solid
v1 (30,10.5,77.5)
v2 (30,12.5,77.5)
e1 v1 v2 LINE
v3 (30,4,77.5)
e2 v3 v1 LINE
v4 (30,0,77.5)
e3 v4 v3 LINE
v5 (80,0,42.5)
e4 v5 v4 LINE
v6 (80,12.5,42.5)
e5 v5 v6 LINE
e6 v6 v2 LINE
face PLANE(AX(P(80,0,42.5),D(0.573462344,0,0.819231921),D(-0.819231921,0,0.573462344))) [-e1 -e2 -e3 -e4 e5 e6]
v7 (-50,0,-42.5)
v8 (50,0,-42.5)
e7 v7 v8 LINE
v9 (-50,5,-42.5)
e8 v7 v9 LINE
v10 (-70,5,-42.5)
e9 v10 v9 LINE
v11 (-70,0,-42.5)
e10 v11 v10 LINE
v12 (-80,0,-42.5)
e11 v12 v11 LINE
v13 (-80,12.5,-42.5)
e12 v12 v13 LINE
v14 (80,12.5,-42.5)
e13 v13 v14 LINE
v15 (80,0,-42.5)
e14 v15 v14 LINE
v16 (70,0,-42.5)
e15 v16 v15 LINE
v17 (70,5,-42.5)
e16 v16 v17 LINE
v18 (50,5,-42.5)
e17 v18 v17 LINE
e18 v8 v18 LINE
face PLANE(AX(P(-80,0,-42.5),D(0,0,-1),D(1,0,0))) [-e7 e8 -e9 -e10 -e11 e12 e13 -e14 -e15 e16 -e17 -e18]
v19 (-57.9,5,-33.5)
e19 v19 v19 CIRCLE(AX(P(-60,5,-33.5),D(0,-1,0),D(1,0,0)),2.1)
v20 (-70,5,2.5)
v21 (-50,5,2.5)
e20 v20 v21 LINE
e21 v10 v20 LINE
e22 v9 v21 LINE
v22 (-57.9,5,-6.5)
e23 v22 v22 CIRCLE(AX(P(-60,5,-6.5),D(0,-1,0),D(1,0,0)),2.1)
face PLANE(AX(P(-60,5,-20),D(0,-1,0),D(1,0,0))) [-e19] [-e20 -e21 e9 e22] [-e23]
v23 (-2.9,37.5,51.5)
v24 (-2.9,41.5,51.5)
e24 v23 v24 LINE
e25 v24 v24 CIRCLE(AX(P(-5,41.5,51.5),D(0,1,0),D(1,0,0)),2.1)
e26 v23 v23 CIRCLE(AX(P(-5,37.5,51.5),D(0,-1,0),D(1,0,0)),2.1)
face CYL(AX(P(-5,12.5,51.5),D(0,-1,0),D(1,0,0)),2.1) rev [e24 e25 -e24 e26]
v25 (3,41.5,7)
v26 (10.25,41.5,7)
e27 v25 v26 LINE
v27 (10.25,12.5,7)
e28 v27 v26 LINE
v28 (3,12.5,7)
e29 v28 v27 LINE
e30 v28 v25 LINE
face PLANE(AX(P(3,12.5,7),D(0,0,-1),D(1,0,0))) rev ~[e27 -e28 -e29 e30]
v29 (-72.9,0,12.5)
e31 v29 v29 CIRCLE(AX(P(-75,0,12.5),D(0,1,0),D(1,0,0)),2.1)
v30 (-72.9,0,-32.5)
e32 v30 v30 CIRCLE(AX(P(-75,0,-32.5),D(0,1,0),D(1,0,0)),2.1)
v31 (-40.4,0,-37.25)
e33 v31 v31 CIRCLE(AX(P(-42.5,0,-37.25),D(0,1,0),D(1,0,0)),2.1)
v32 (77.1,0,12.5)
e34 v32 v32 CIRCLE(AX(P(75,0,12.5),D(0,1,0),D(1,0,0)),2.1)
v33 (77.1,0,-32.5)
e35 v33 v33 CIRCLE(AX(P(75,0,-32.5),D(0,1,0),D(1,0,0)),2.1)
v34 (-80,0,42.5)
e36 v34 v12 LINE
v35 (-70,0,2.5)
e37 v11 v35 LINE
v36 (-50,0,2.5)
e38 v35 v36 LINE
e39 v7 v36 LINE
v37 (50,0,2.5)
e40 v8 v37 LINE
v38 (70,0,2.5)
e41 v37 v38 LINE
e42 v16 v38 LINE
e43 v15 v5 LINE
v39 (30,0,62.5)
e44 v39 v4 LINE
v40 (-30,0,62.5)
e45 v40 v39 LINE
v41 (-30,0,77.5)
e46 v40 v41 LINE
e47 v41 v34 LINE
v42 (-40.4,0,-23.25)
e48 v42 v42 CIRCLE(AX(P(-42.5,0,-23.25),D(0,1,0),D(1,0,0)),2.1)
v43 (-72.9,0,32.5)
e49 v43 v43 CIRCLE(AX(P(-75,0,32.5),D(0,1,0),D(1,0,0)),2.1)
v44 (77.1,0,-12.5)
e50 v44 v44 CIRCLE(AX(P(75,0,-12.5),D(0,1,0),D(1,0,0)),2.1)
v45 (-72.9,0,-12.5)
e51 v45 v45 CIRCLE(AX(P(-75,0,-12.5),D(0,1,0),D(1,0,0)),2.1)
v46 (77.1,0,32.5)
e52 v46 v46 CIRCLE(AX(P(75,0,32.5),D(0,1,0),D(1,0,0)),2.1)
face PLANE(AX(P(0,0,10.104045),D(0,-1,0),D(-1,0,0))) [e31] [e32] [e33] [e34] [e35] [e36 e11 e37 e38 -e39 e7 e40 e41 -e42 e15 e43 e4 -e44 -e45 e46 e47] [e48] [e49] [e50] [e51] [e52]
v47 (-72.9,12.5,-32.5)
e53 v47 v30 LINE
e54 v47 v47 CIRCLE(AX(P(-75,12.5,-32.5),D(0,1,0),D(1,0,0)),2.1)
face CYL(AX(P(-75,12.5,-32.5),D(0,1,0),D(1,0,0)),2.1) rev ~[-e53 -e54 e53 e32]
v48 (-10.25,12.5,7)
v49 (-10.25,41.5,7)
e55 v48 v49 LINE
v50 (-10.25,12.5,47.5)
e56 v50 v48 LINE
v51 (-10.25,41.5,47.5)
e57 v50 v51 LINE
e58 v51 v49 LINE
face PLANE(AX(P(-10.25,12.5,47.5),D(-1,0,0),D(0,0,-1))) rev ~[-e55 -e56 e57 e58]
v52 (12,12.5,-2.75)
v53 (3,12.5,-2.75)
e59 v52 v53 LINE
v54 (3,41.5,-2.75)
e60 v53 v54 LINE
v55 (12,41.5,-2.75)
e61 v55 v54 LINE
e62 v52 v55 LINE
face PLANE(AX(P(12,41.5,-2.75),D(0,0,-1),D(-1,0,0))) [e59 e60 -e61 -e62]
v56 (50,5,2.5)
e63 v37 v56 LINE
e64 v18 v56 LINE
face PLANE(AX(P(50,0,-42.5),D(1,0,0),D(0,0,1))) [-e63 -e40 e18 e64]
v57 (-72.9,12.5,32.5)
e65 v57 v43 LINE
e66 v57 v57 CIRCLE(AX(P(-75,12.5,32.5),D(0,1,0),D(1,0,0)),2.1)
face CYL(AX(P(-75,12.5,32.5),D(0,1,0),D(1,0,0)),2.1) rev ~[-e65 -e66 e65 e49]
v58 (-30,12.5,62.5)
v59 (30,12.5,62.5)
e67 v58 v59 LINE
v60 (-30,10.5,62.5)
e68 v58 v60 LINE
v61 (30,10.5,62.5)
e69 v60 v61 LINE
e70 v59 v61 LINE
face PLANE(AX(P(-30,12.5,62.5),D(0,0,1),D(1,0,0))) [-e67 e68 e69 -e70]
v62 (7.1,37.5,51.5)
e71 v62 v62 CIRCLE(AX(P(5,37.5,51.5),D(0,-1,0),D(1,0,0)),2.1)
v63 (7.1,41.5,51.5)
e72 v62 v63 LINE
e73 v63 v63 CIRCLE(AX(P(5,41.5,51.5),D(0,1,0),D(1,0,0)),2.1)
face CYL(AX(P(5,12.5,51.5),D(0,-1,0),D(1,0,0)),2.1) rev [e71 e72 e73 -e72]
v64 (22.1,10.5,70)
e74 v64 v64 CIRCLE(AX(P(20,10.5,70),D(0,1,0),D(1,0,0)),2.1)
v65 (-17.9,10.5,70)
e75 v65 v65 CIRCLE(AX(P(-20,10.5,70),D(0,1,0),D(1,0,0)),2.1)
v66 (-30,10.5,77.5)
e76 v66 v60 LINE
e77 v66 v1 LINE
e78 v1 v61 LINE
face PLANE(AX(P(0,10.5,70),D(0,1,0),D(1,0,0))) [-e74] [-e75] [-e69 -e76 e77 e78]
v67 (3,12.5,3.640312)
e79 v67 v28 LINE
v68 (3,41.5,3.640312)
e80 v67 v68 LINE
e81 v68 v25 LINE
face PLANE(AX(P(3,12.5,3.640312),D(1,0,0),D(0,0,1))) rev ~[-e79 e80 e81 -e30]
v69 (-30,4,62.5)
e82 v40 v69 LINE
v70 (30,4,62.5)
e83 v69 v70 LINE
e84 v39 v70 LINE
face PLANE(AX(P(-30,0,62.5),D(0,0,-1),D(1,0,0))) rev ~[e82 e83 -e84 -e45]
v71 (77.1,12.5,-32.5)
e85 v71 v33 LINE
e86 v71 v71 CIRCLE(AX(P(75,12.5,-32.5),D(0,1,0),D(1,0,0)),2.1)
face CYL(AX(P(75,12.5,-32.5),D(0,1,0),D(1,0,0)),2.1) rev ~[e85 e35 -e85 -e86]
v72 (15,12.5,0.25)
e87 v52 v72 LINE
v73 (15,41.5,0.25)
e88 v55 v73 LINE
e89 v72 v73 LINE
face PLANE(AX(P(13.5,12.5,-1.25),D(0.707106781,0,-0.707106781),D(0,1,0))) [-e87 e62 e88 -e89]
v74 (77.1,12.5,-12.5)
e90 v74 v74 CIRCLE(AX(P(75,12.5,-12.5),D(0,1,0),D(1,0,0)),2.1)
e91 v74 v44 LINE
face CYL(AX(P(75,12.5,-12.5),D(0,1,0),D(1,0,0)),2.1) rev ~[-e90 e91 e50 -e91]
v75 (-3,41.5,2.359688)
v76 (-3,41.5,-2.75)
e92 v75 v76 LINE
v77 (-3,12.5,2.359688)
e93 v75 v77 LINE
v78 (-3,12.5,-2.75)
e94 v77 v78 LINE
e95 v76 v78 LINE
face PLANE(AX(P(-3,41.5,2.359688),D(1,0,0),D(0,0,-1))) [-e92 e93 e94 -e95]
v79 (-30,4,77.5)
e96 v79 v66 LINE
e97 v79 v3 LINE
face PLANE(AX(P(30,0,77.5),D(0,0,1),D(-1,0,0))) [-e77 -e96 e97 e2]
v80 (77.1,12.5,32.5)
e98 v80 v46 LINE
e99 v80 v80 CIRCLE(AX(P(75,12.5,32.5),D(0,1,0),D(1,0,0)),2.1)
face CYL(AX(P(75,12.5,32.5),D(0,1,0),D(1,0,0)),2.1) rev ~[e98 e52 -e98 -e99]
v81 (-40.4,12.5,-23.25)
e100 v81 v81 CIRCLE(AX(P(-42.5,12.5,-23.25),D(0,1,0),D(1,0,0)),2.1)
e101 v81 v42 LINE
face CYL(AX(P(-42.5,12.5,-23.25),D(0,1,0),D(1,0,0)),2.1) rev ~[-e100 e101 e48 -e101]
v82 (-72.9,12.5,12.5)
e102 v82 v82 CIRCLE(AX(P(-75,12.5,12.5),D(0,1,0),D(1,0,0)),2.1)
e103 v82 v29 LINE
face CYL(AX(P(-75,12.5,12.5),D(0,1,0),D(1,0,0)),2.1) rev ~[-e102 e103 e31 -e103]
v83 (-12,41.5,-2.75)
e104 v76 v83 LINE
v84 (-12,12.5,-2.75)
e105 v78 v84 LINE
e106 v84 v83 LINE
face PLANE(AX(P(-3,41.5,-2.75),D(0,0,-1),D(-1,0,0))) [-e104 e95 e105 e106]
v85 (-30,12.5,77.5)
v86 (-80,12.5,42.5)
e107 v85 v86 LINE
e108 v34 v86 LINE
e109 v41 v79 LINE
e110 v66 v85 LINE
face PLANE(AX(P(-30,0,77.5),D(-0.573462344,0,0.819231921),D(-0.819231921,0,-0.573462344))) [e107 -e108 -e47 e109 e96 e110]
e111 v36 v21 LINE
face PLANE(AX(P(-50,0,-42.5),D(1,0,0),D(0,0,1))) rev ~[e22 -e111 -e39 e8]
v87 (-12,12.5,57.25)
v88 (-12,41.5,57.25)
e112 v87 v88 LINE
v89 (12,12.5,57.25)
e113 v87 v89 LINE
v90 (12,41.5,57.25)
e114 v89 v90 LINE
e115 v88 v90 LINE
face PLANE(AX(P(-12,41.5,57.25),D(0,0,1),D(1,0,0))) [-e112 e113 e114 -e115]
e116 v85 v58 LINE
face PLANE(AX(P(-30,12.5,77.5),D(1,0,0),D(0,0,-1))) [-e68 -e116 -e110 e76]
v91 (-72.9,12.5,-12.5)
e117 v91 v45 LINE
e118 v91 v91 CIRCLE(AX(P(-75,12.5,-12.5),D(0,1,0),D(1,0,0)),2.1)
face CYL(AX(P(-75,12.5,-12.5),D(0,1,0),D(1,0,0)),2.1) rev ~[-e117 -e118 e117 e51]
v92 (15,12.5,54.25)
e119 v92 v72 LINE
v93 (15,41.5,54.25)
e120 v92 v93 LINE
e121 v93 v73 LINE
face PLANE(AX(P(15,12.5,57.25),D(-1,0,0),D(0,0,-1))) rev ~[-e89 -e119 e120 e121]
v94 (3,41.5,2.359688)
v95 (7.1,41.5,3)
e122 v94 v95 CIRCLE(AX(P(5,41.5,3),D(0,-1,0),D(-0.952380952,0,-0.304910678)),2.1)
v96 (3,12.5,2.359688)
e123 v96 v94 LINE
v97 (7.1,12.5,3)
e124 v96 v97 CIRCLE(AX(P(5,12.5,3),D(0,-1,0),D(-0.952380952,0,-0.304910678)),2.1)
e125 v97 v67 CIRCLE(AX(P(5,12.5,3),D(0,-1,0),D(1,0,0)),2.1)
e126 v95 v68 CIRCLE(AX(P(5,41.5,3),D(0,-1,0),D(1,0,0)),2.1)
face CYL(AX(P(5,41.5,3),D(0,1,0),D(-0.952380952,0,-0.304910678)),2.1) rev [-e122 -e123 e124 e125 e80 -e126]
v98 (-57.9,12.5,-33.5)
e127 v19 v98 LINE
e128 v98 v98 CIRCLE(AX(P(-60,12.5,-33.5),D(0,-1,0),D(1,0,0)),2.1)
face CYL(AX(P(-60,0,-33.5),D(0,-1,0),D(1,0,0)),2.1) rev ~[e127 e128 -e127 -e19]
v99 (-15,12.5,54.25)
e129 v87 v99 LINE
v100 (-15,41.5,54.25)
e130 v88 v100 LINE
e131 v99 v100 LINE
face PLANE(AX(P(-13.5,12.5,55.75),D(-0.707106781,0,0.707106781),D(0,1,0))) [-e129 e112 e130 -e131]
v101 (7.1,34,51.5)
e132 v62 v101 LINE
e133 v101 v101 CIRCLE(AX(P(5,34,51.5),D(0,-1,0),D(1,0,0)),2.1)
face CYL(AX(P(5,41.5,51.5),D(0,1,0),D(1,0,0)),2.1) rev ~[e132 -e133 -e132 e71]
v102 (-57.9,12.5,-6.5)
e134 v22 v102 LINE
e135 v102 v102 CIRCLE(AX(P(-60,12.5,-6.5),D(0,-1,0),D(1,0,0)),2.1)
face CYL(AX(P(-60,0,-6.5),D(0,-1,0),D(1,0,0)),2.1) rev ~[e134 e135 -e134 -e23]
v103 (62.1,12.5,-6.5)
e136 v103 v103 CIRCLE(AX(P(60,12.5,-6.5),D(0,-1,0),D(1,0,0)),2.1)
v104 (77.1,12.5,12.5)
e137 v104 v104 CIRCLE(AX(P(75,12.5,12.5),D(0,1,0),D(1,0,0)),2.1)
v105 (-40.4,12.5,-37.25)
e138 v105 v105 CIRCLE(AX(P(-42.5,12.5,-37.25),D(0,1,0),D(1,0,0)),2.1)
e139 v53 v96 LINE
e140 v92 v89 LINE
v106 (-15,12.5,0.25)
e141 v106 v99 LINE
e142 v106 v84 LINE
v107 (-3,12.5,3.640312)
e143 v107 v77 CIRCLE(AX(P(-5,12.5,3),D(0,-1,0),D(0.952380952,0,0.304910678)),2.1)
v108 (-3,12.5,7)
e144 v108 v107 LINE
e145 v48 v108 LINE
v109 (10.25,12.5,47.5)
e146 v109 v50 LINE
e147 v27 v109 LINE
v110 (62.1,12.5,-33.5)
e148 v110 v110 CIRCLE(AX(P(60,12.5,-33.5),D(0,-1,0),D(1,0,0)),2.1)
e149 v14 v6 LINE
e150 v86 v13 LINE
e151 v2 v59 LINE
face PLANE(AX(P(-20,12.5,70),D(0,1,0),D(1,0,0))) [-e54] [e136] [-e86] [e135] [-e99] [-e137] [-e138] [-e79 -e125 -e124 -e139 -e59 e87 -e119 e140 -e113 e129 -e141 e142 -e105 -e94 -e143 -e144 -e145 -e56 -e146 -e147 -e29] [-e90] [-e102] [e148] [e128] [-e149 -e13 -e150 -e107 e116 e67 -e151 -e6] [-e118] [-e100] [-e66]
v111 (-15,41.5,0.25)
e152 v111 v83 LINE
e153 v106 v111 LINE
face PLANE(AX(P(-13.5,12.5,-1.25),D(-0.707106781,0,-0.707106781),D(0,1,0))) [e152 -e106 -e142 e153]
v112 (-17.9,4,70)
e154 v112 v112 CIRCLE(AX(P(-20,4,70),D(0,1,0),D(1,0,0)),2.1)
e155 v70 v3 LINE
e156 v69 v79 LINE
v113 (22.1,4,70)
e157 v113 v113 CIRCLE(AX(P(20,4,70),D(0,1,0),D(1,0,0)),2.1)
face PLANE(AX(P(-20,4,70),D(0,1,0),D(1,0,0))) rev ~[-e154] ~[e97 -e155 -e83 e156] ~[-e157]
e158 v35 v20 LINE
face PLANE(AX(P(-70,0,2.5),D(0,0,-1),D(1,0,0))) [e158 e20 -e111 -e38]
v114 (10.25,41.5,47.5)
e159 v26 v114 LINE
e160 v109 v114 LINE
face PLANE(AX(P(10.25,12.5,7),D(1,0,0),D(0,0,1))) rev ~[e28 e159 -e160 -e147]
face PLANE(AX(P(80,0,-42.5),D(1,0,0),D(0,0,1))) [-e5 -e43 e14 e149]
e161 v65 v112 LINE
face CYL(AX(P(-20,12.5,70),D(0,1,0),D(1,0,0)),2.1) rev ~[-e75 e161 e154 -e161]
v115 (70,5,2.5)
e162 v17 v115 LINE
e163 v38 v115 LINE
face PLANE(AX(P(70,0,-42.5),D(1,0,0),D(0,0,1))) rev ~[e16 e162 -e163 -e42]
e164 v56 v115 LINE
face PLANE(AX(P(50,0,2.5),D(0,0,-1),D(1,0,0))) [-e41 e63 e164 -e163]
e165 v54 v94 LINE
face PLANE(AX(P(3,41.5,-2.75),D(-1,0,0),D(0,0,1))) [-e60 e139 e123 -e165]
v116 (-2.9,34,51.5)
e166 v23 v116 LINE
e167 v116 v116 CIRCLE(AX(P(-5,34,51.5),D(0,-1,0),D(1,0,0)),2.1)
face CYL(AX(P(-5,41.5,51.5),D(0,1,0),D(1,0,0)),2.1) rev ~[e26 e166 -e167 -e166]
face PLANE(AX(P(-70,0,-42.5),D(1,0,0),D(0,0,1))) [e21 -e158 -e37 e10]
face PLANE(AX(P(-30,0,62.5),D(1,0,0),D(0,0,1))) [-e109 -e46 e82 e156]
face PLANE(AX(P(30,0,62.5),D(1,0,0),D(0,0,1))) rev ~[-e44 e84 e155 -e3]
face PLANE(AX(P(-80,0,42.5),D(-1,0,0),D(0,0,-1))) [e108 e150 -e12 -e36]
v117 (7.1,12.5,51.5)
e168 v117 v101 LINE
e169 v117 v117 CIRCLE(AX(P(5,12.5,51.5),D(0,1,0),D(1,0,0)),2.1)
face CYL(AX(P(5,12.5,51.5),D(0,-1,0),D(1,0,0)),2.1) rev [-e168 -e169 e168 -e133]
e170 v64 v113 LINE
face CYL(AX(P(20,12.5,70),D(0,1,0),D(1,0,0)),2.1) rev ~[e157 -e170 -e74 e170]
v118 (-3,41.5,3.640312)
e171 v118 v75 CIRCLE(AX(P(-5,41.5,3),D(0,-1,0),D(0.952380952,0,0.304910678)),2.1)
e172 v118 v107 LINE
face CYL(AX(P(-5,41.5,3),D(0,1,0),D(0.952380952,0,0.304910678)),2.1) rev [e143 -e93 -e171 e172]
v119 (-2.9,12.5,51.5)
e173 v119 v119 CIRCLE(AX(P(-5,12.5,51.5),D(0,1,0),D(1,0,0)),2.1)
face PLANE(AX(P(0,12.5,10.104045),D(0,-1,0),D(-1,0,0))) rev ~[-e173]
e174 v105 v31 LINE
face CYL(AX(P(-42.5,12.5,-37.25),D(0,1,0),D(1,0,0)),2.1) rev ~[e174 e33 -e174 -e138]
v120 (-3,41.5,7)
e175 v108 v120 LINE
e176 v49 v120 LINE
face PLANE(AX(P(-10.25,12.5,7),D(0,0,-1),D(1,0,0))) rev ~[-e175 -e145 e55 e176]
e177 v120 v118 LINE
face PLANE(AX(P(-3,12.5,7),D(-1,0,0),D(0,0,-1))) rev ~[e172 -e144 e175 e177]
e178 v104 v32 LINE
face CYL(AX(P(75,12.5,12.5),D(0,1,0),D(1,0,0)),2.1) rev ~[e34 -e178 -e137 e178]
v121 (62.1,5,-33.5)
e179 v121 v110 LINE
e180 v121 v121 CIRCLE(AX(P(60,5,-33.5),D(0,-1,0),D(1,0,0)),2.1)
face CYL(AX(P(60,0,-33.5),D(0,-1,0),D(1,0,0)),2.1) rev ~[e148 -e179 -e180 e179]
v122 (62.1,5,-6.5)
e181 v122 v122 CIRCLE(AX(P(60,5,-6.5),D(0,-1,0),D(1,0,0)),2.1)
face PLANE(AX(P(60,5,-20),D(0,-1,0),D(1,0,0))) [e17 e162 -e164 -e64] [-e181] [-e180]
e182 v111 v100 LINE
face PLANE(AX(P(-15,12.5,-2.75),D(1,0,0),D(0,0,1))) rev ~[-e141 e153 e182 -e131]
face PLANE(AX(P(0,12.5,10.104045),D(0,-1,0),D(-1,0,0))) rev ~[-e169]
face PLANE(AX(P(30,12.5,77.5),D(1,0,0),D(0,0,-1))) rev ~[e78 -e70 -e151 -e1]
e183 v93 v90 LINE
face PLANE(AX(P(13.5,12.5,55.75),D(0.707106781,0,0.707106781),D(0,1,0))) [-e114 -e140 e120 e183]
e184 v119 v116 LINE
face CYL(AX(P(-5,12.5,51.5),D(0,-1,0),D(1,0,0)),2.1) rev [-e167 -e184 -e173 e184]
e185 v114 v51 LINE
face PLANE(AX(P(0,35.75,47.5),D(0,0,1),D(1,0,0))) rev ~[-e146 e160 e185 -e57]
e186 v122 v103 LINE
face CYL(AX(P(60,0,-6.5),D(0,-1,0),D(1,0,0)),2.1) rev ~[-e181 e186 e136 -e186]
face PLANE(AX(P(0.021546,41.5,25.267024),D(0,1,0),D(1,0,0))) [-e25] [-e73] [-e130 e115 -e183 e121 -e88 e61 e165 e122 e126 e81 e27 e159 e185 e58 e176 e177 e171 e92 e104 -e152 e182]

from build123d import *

# Parameters (mm, degrees)
BOSS_EXTRUDE2_DEPTH = 12.5
SKETCH2_R           = 2.1
BOSS_EXTRUDE3_DEPTH = 29
SKETCH4_W           = 9
SKETCH4_H           = 3.5
CUT_EXTRUDE1_DEPTH  = 73
CHAMFER1_SIZE       = 3
SKETCH5_W           = 60
SKETCH5_H           = 15
SKETCH5_R           = 2.89755201
CUT_EXTRUDE2_DEPTH  = 4
SKETCH6_R           = 2.89755201
CUT_EXTRUDE3_DEPTH  = 26
SKETCH7_R           = 2.1
CUT_EXTRUDE4_DEPTH  = 26
SKETCH8_R           = 2.1
CUT_EXTRUDE5_DEPTH  = 26
SKETCH9_W           = 20
SKETCH9_H           = 45
CUT_EXTRUDE8_DEPTH  = 5
SKETCH10_W          = 1.5
SKETCH10_H          = 3.5
BOSS_EXTRUDE4_DEPTH = 9.75
SKETCH11_R          = 2.1
CUT_EXTRUDE9_DEPTH  = 22
SKETCH12_R          = 2.89755201
SKETCH12_R_2        = 2.1
BOSS_EXTRUDE6_DEPTH = 8.5
SKETCH13_W          = 1.5
SKETCH13_H          = 3.5
CUT_EXTRUDE10_DEPTH = 14.2
SKETCH14_W          = 60
SKETCH14_H          = 15
CUT_EXTRUDE11_DEPTH = 2
BOSS_EXTRUDE7_REACH = 43.5
SKETCH15_R          = 2.1


with BuildPart() as part:
    # Sketch1 → Boss-Extrude2 (new body)
    with BuildSketch(Plane(origin=(0, 0, 0), x_dir=(1, 0, 0), z_dir=(0, 1, 0))):
        Polygon((-80, -42.5), (-80, 42.5), (80, 42.5), (80, -42.5), (30, -77.5), (-30, -77.5), align=None)
    extrude(amount=BOSS_EXTRUDE2_DEPTH)

    # Sketch2 → Boss-Extrude3 (add)
    with BuildSketch(Plane(origin=(0, 12.5, 0), x_dir=(1, 0, 0), z_dir=(0, 1, 0))):
        with BuildLine():
            Line((10.25, -47.5), (-10.25, -47.5))
            Line((-10.25, -47.5), (-10.25, -7))
            Line((-10.25, -7), (-3, -7))
            Line((-3, -7), (-3, -3.640312424))
            ThreePointArc((-3, -3.640312424), (-7.1, -3), (-3, -2.359687576))
            Line((-3, -2.359687576), (-3, 2.75))
            Line((-3, 2.75), (-15, 2.75))
            Line((-15, 2.75), (-15, -57.25))
            Line((-15, -57.25), (15, -57.25))
            Line((15, -57.25), (15, 2.75))
            Line((15, 2.75), (3, 2.75))
            Line((3, 2.75), (3, -2.359687576))
            ThreePointArc((3, -2.359687576), (5.324037035, -0.925150608), (7.1, -3))
            ThreePointArc((7.1, -3), (5.324037035, -5.074849392), (3, -3.640312424))
            Line((3, -3.640312424), (3, -7))
            Line((3, -7), (10.25, -7))
            Line((10.25, -7), (10.25, -47.5))
        make_face()
        with Locations((-5, -51.5)):
            Circle(SKETCH2_R, mode=Mode.SUBTRACT)
        with Locations((5, -51.5)):
            Circle(SKETCH2_R, mode=Mode.SUBTRACT)
    extrude(amount=BOSS_EXTRUDE3_DEPTH)

    # Sketch4 → Cut-Extrude1 (cut)
    with BuildSketch(Plane.XY.offset(57.25)):
        with Locations((5, 35.75)):
            Rectangle(SKETCH4_W, SKETCH4_H)
        with Locations((-5, 35.75)):
            Rectangle(SKETCH4_W, SKETCH4_H)
    extrude(amount=-CUT_EXTRUDE1_DEPTH, mode=Mode.SUBTRACT)

    # Chamfer1
    chamfer1_edges = [part.edges().sort_by_distance(p)[0] for p in [
        (-15, 27, -2.75),
        (-15, 27, 57.25),
        (15, 27, 57.25),
        (15, 27, -2.75),
    ]]
    chamfer(chamfer1_edges, length=CHAMFER1_SIZE)

    # Sketch5 → Cut-Extrude2 (cut)
    with BuildSketch(Plane.XZ):
        with Locations((0, 70)):
            Rectangle(SKETCH5_W, SKETCH5_H)
        with Locations((-20, 70)):
            Circle(SKETCH5_R, mode=Mode.SUBTRACT)
        with Locations((20, 70)):
            Circle(SKETCH5_R, mode=Mode.SUBTRACT)
    extrude(amount=-CUT_EXTRUDE2_DEPTH, mode=Mode.SUBTRACT)

    # Sketch6 → Cut-Extrude3 (cut)
    with BuildSketch(Plane(origin=(0, 0, 0), x_dir=(-1, 0, 0), z_dir=(0, -1, 0))):
        with Locations((20, -70)):
            Circle(SKETCH6_R)
        with Locations((-20, -70)):
            Circle(SKETCH6_R)
    extrude(amount=-CUT_EXTRUDE3_DEPTH, mode=Mode.SUBTRACT)

    # Sketch7 → Cut-Extrude4 (cut)
    with BuildSketch(Plane(origin=(0, 12.5, 0), x_dir=(1, 0, 0), z_dir=(0, 1, 0))):
        with Locations((-75, 32.5)):
            Circle(SKETCH7_R)
        with Locations((-75, 12.5)):
            Circle(SKETCH7_R)
        with Locations((-75, -12.5)):
            Circle(SKETCH7_R)
        with Locations((-75, -32.5)):
            Circle(SKETCH7_R)
        with Locations((75, -32.5)):
            Circle(SKETCH7_R)
        with Locations((75, -12.5)):
            Circle(SKETCH7_R)
        with Locations((75, 12.5)):
            Circle(SKETCH7_R)
        with Locations((75, 32.5)):
            Circle(SKETCH7_R)
    extrude(amount=-CUT_EXTRUDE4_DEPTH, mode=Mode.SUBTRACT)

    # Sketch8 → Cut-Extrude5 (cut)
    with BuildSketch(Plane.XZ):
        with Locations((-60, -6.5)):
            Circle(SKETCH8_R)
        with Locations((-60, -33.5)):
            Circle(SKETCH8_R)
        with Locations((60, -6.5)):
            Circle(SKETCH8_R)
        with Locations((60, -33.5)):
            Circle(SKETCH8_R)
    extrude(amount=-CUT_EXTRUDE5_DEPTH, mode=Mode.SUBTRACT)

    # Sketch9 → Cut-Extrude8 (cut)
    with BuildSketch(Plane.XZ):
        with Locations((-60, -20)):
            Rectangle(SKETCH9_W, SKETCH9_H)
        with Locations((60, -20)):
            Rectangle(SKETCH9_W, SKETCH9_H)
    extrude(amount=-CUT_EXTRUDE8_DEPTH, mode=Mode.SUBTRACT)

    # Sketch10 → Boss-Extrude4 (add)
    with BuildSketch(Plane.XY.offset(57.25)):
        with Locations((0, 35.75)):
            Rectangle(SKETCH10_W, SKETCH10_H)
    extrude(amount=-BOSS_EXTRUDE4_DEPTH)

    # Sketch11 → Cut-Extrude9 (cut)
    with BuildSketch(Plane(origin=(0, 12.5, 0), x_dir=(1, 0, 0), z_dir=(0, 1, 0))):
        with Locations((-42.5, 37.25)):
            Circle(SKETCH11_R)
        with Locations((-42.5, 23.25)):
            Circle(SKETCH11_R)
    extrude(amount=-CUT_EXTRUDE9_DEPTH, mode=Mode.SUBTRACT)

    # Sketch12 → Boss-Extrude6 (add)
    with BuildSketch(Plane(origin=(0, 12.5, 0), x_dir=(1, 0, 0), z_dir=(0, 1, 0))):
        with Locations((-20, -70)):
            Circle(SKETCH12_R)
        with Locations((-20, -70)):
            Circle(SKETCH12_R_2, mode=Mode.SUBTRACT)
        with Locations((20, -70)):
            Circle(SKETCH12_R)
        with Locations((20, -70)):
            Circle(SKETCH12_R_2, mode=Mode.SUBTRACT)
    extrude(amount=-BOSS_EXTRUDE6_DEPTH)

    # Sketch13 → Cut-Extrude10 (cut)
    with BuildSketch(Plane.XY.offset(57.25)):
        with Locations((0, 35.75)):
            Rectangle(SKETCH13_W, SKETCH13_H)
    extrude(amount=-CUT_EXTRUDE10_DEPTH, mode=Mode.SUBTRACT)

    # Sketch14 → Cut-Extrude11 (cut)
    with BuildSketch(Plane(origin=(0, 12.5, 0), x_dir=(1, 0, 0), z_dir=(0, 1, 0))):
        with Locations((0, -70)):
            Rectangle(SKETCH14_W, SKETCH14_H)
    extrude(amount=-CUT_EXTRUDE11_DEPTH, mode=Mode.SUBTRACT)

    # Sketch15 → Boss-Extrude7 (add, up to next)
    with BuildSketch(Plane(origin=(0, 41.5, 0), x_dir=(1, 0, 0), z_dir=(0, 1, 0)), mode=Mode.PRIVATE) as boss_extrude7_sk1:
        Polygon((-12, -47.5), (-12, -57.25), (12, -57.25), (12, -47.5), (10.25, -47.5), (-10.25, -47.5), align=None)
        with Locations((-5, -51.5)):
            Circle(SKETCH15_R, mode=Mode.SUBTRACT)
        with Locations((5, -51.5)):
            Circle(SKETCH15_R, mode=Mode.SUBTRACT)
    boss_extrude7_tool1 = extrude(boss_extrude7_sk1.sketch, amount=-BOSS_EXTRUDE7_REACH, mode=Mode.PRIVATE) - part.part
    add(boss_extrude7_tool1.solids().sort_by_distance((0, 41.5, 52.492529))[0])
    # Sketch15 → Boss-Extrude7 (add, up to next)
    with BuildSketch(Plane(origin=(0, 41.5, 0), x_dir=(1, 0, 0), z_dir=(0, 1, 0)), mode=Mode.PRIVATE) as boss_extrude7_sk2:
        with BuildLine():
            Line((12, 2.75), (3, 2.75))
            Line((3, 2.75), (3, -2.359687576))
            ThreePointArc((3, -2.359687576), (5.324037035, -0.925150608), (7.1, -3))
            ThreePointArc((7.1, -3), (5.324037035, -5.074849392), (3, -3.640312424))
            Line((3, -3.640312424), (3, -7))
            Line((3, -7), (10.25, -7))
            Line((10.25, -7), (12.122605781, -7))
            Line((12.122605781, -7), (12.122605781, 2.627394219))
            Line((12.122605781, 2.627394219), (12, 2.75))
        make_face()
    boss_extrude7_tool2 = extrude(boss_extrude7_sk2.sketch, amount=-BOSS_EXTRUDE7_REACH, mode=Mode.PRIVATE) - part.part
    add(boss_extrude7_tool2.solids().sort_by_distance((8.027672, 41.5, 1.965211))[0])
    # Sketch15 → Boss-Extrude7 (add, up to next)
    with BuildSketch(Plane(origin=(0, 41.5, 0), x_dir=(1, 0, 0), z_dir=(0, 1, 0)), mode=Mode.PRIVATE) as boss_extrude7_sk3:
        with BuildLine():
            Line((-3, 2.75), (-12, 2.75))
            Line((-12, 2.75), (-12, -7))
            Line((-12, -7), (-10.25, -7))
            Line((-10.25, -7), (-3, -7))
            Line((-3, -7), (-3, -3.640312424))
            ThreePointArc((-3, -3.640312424), (-7.1, -3), (-3, -2.359687576))
            Line((-3, -2.359687576), (-3, 2.75))
        make_face()
    boss_extrude7_tool3 = extrude(boss_extrude7_sk3.sketch, amount=-BOSS_EXTRUDE7_REACH, mode=Mode.PRIVATE) - part.part
    add(boss_extrude7_tool3.solids().sort_by_distance((-7.962908, 41.5, 1.962154))[0])


solid = part.part
